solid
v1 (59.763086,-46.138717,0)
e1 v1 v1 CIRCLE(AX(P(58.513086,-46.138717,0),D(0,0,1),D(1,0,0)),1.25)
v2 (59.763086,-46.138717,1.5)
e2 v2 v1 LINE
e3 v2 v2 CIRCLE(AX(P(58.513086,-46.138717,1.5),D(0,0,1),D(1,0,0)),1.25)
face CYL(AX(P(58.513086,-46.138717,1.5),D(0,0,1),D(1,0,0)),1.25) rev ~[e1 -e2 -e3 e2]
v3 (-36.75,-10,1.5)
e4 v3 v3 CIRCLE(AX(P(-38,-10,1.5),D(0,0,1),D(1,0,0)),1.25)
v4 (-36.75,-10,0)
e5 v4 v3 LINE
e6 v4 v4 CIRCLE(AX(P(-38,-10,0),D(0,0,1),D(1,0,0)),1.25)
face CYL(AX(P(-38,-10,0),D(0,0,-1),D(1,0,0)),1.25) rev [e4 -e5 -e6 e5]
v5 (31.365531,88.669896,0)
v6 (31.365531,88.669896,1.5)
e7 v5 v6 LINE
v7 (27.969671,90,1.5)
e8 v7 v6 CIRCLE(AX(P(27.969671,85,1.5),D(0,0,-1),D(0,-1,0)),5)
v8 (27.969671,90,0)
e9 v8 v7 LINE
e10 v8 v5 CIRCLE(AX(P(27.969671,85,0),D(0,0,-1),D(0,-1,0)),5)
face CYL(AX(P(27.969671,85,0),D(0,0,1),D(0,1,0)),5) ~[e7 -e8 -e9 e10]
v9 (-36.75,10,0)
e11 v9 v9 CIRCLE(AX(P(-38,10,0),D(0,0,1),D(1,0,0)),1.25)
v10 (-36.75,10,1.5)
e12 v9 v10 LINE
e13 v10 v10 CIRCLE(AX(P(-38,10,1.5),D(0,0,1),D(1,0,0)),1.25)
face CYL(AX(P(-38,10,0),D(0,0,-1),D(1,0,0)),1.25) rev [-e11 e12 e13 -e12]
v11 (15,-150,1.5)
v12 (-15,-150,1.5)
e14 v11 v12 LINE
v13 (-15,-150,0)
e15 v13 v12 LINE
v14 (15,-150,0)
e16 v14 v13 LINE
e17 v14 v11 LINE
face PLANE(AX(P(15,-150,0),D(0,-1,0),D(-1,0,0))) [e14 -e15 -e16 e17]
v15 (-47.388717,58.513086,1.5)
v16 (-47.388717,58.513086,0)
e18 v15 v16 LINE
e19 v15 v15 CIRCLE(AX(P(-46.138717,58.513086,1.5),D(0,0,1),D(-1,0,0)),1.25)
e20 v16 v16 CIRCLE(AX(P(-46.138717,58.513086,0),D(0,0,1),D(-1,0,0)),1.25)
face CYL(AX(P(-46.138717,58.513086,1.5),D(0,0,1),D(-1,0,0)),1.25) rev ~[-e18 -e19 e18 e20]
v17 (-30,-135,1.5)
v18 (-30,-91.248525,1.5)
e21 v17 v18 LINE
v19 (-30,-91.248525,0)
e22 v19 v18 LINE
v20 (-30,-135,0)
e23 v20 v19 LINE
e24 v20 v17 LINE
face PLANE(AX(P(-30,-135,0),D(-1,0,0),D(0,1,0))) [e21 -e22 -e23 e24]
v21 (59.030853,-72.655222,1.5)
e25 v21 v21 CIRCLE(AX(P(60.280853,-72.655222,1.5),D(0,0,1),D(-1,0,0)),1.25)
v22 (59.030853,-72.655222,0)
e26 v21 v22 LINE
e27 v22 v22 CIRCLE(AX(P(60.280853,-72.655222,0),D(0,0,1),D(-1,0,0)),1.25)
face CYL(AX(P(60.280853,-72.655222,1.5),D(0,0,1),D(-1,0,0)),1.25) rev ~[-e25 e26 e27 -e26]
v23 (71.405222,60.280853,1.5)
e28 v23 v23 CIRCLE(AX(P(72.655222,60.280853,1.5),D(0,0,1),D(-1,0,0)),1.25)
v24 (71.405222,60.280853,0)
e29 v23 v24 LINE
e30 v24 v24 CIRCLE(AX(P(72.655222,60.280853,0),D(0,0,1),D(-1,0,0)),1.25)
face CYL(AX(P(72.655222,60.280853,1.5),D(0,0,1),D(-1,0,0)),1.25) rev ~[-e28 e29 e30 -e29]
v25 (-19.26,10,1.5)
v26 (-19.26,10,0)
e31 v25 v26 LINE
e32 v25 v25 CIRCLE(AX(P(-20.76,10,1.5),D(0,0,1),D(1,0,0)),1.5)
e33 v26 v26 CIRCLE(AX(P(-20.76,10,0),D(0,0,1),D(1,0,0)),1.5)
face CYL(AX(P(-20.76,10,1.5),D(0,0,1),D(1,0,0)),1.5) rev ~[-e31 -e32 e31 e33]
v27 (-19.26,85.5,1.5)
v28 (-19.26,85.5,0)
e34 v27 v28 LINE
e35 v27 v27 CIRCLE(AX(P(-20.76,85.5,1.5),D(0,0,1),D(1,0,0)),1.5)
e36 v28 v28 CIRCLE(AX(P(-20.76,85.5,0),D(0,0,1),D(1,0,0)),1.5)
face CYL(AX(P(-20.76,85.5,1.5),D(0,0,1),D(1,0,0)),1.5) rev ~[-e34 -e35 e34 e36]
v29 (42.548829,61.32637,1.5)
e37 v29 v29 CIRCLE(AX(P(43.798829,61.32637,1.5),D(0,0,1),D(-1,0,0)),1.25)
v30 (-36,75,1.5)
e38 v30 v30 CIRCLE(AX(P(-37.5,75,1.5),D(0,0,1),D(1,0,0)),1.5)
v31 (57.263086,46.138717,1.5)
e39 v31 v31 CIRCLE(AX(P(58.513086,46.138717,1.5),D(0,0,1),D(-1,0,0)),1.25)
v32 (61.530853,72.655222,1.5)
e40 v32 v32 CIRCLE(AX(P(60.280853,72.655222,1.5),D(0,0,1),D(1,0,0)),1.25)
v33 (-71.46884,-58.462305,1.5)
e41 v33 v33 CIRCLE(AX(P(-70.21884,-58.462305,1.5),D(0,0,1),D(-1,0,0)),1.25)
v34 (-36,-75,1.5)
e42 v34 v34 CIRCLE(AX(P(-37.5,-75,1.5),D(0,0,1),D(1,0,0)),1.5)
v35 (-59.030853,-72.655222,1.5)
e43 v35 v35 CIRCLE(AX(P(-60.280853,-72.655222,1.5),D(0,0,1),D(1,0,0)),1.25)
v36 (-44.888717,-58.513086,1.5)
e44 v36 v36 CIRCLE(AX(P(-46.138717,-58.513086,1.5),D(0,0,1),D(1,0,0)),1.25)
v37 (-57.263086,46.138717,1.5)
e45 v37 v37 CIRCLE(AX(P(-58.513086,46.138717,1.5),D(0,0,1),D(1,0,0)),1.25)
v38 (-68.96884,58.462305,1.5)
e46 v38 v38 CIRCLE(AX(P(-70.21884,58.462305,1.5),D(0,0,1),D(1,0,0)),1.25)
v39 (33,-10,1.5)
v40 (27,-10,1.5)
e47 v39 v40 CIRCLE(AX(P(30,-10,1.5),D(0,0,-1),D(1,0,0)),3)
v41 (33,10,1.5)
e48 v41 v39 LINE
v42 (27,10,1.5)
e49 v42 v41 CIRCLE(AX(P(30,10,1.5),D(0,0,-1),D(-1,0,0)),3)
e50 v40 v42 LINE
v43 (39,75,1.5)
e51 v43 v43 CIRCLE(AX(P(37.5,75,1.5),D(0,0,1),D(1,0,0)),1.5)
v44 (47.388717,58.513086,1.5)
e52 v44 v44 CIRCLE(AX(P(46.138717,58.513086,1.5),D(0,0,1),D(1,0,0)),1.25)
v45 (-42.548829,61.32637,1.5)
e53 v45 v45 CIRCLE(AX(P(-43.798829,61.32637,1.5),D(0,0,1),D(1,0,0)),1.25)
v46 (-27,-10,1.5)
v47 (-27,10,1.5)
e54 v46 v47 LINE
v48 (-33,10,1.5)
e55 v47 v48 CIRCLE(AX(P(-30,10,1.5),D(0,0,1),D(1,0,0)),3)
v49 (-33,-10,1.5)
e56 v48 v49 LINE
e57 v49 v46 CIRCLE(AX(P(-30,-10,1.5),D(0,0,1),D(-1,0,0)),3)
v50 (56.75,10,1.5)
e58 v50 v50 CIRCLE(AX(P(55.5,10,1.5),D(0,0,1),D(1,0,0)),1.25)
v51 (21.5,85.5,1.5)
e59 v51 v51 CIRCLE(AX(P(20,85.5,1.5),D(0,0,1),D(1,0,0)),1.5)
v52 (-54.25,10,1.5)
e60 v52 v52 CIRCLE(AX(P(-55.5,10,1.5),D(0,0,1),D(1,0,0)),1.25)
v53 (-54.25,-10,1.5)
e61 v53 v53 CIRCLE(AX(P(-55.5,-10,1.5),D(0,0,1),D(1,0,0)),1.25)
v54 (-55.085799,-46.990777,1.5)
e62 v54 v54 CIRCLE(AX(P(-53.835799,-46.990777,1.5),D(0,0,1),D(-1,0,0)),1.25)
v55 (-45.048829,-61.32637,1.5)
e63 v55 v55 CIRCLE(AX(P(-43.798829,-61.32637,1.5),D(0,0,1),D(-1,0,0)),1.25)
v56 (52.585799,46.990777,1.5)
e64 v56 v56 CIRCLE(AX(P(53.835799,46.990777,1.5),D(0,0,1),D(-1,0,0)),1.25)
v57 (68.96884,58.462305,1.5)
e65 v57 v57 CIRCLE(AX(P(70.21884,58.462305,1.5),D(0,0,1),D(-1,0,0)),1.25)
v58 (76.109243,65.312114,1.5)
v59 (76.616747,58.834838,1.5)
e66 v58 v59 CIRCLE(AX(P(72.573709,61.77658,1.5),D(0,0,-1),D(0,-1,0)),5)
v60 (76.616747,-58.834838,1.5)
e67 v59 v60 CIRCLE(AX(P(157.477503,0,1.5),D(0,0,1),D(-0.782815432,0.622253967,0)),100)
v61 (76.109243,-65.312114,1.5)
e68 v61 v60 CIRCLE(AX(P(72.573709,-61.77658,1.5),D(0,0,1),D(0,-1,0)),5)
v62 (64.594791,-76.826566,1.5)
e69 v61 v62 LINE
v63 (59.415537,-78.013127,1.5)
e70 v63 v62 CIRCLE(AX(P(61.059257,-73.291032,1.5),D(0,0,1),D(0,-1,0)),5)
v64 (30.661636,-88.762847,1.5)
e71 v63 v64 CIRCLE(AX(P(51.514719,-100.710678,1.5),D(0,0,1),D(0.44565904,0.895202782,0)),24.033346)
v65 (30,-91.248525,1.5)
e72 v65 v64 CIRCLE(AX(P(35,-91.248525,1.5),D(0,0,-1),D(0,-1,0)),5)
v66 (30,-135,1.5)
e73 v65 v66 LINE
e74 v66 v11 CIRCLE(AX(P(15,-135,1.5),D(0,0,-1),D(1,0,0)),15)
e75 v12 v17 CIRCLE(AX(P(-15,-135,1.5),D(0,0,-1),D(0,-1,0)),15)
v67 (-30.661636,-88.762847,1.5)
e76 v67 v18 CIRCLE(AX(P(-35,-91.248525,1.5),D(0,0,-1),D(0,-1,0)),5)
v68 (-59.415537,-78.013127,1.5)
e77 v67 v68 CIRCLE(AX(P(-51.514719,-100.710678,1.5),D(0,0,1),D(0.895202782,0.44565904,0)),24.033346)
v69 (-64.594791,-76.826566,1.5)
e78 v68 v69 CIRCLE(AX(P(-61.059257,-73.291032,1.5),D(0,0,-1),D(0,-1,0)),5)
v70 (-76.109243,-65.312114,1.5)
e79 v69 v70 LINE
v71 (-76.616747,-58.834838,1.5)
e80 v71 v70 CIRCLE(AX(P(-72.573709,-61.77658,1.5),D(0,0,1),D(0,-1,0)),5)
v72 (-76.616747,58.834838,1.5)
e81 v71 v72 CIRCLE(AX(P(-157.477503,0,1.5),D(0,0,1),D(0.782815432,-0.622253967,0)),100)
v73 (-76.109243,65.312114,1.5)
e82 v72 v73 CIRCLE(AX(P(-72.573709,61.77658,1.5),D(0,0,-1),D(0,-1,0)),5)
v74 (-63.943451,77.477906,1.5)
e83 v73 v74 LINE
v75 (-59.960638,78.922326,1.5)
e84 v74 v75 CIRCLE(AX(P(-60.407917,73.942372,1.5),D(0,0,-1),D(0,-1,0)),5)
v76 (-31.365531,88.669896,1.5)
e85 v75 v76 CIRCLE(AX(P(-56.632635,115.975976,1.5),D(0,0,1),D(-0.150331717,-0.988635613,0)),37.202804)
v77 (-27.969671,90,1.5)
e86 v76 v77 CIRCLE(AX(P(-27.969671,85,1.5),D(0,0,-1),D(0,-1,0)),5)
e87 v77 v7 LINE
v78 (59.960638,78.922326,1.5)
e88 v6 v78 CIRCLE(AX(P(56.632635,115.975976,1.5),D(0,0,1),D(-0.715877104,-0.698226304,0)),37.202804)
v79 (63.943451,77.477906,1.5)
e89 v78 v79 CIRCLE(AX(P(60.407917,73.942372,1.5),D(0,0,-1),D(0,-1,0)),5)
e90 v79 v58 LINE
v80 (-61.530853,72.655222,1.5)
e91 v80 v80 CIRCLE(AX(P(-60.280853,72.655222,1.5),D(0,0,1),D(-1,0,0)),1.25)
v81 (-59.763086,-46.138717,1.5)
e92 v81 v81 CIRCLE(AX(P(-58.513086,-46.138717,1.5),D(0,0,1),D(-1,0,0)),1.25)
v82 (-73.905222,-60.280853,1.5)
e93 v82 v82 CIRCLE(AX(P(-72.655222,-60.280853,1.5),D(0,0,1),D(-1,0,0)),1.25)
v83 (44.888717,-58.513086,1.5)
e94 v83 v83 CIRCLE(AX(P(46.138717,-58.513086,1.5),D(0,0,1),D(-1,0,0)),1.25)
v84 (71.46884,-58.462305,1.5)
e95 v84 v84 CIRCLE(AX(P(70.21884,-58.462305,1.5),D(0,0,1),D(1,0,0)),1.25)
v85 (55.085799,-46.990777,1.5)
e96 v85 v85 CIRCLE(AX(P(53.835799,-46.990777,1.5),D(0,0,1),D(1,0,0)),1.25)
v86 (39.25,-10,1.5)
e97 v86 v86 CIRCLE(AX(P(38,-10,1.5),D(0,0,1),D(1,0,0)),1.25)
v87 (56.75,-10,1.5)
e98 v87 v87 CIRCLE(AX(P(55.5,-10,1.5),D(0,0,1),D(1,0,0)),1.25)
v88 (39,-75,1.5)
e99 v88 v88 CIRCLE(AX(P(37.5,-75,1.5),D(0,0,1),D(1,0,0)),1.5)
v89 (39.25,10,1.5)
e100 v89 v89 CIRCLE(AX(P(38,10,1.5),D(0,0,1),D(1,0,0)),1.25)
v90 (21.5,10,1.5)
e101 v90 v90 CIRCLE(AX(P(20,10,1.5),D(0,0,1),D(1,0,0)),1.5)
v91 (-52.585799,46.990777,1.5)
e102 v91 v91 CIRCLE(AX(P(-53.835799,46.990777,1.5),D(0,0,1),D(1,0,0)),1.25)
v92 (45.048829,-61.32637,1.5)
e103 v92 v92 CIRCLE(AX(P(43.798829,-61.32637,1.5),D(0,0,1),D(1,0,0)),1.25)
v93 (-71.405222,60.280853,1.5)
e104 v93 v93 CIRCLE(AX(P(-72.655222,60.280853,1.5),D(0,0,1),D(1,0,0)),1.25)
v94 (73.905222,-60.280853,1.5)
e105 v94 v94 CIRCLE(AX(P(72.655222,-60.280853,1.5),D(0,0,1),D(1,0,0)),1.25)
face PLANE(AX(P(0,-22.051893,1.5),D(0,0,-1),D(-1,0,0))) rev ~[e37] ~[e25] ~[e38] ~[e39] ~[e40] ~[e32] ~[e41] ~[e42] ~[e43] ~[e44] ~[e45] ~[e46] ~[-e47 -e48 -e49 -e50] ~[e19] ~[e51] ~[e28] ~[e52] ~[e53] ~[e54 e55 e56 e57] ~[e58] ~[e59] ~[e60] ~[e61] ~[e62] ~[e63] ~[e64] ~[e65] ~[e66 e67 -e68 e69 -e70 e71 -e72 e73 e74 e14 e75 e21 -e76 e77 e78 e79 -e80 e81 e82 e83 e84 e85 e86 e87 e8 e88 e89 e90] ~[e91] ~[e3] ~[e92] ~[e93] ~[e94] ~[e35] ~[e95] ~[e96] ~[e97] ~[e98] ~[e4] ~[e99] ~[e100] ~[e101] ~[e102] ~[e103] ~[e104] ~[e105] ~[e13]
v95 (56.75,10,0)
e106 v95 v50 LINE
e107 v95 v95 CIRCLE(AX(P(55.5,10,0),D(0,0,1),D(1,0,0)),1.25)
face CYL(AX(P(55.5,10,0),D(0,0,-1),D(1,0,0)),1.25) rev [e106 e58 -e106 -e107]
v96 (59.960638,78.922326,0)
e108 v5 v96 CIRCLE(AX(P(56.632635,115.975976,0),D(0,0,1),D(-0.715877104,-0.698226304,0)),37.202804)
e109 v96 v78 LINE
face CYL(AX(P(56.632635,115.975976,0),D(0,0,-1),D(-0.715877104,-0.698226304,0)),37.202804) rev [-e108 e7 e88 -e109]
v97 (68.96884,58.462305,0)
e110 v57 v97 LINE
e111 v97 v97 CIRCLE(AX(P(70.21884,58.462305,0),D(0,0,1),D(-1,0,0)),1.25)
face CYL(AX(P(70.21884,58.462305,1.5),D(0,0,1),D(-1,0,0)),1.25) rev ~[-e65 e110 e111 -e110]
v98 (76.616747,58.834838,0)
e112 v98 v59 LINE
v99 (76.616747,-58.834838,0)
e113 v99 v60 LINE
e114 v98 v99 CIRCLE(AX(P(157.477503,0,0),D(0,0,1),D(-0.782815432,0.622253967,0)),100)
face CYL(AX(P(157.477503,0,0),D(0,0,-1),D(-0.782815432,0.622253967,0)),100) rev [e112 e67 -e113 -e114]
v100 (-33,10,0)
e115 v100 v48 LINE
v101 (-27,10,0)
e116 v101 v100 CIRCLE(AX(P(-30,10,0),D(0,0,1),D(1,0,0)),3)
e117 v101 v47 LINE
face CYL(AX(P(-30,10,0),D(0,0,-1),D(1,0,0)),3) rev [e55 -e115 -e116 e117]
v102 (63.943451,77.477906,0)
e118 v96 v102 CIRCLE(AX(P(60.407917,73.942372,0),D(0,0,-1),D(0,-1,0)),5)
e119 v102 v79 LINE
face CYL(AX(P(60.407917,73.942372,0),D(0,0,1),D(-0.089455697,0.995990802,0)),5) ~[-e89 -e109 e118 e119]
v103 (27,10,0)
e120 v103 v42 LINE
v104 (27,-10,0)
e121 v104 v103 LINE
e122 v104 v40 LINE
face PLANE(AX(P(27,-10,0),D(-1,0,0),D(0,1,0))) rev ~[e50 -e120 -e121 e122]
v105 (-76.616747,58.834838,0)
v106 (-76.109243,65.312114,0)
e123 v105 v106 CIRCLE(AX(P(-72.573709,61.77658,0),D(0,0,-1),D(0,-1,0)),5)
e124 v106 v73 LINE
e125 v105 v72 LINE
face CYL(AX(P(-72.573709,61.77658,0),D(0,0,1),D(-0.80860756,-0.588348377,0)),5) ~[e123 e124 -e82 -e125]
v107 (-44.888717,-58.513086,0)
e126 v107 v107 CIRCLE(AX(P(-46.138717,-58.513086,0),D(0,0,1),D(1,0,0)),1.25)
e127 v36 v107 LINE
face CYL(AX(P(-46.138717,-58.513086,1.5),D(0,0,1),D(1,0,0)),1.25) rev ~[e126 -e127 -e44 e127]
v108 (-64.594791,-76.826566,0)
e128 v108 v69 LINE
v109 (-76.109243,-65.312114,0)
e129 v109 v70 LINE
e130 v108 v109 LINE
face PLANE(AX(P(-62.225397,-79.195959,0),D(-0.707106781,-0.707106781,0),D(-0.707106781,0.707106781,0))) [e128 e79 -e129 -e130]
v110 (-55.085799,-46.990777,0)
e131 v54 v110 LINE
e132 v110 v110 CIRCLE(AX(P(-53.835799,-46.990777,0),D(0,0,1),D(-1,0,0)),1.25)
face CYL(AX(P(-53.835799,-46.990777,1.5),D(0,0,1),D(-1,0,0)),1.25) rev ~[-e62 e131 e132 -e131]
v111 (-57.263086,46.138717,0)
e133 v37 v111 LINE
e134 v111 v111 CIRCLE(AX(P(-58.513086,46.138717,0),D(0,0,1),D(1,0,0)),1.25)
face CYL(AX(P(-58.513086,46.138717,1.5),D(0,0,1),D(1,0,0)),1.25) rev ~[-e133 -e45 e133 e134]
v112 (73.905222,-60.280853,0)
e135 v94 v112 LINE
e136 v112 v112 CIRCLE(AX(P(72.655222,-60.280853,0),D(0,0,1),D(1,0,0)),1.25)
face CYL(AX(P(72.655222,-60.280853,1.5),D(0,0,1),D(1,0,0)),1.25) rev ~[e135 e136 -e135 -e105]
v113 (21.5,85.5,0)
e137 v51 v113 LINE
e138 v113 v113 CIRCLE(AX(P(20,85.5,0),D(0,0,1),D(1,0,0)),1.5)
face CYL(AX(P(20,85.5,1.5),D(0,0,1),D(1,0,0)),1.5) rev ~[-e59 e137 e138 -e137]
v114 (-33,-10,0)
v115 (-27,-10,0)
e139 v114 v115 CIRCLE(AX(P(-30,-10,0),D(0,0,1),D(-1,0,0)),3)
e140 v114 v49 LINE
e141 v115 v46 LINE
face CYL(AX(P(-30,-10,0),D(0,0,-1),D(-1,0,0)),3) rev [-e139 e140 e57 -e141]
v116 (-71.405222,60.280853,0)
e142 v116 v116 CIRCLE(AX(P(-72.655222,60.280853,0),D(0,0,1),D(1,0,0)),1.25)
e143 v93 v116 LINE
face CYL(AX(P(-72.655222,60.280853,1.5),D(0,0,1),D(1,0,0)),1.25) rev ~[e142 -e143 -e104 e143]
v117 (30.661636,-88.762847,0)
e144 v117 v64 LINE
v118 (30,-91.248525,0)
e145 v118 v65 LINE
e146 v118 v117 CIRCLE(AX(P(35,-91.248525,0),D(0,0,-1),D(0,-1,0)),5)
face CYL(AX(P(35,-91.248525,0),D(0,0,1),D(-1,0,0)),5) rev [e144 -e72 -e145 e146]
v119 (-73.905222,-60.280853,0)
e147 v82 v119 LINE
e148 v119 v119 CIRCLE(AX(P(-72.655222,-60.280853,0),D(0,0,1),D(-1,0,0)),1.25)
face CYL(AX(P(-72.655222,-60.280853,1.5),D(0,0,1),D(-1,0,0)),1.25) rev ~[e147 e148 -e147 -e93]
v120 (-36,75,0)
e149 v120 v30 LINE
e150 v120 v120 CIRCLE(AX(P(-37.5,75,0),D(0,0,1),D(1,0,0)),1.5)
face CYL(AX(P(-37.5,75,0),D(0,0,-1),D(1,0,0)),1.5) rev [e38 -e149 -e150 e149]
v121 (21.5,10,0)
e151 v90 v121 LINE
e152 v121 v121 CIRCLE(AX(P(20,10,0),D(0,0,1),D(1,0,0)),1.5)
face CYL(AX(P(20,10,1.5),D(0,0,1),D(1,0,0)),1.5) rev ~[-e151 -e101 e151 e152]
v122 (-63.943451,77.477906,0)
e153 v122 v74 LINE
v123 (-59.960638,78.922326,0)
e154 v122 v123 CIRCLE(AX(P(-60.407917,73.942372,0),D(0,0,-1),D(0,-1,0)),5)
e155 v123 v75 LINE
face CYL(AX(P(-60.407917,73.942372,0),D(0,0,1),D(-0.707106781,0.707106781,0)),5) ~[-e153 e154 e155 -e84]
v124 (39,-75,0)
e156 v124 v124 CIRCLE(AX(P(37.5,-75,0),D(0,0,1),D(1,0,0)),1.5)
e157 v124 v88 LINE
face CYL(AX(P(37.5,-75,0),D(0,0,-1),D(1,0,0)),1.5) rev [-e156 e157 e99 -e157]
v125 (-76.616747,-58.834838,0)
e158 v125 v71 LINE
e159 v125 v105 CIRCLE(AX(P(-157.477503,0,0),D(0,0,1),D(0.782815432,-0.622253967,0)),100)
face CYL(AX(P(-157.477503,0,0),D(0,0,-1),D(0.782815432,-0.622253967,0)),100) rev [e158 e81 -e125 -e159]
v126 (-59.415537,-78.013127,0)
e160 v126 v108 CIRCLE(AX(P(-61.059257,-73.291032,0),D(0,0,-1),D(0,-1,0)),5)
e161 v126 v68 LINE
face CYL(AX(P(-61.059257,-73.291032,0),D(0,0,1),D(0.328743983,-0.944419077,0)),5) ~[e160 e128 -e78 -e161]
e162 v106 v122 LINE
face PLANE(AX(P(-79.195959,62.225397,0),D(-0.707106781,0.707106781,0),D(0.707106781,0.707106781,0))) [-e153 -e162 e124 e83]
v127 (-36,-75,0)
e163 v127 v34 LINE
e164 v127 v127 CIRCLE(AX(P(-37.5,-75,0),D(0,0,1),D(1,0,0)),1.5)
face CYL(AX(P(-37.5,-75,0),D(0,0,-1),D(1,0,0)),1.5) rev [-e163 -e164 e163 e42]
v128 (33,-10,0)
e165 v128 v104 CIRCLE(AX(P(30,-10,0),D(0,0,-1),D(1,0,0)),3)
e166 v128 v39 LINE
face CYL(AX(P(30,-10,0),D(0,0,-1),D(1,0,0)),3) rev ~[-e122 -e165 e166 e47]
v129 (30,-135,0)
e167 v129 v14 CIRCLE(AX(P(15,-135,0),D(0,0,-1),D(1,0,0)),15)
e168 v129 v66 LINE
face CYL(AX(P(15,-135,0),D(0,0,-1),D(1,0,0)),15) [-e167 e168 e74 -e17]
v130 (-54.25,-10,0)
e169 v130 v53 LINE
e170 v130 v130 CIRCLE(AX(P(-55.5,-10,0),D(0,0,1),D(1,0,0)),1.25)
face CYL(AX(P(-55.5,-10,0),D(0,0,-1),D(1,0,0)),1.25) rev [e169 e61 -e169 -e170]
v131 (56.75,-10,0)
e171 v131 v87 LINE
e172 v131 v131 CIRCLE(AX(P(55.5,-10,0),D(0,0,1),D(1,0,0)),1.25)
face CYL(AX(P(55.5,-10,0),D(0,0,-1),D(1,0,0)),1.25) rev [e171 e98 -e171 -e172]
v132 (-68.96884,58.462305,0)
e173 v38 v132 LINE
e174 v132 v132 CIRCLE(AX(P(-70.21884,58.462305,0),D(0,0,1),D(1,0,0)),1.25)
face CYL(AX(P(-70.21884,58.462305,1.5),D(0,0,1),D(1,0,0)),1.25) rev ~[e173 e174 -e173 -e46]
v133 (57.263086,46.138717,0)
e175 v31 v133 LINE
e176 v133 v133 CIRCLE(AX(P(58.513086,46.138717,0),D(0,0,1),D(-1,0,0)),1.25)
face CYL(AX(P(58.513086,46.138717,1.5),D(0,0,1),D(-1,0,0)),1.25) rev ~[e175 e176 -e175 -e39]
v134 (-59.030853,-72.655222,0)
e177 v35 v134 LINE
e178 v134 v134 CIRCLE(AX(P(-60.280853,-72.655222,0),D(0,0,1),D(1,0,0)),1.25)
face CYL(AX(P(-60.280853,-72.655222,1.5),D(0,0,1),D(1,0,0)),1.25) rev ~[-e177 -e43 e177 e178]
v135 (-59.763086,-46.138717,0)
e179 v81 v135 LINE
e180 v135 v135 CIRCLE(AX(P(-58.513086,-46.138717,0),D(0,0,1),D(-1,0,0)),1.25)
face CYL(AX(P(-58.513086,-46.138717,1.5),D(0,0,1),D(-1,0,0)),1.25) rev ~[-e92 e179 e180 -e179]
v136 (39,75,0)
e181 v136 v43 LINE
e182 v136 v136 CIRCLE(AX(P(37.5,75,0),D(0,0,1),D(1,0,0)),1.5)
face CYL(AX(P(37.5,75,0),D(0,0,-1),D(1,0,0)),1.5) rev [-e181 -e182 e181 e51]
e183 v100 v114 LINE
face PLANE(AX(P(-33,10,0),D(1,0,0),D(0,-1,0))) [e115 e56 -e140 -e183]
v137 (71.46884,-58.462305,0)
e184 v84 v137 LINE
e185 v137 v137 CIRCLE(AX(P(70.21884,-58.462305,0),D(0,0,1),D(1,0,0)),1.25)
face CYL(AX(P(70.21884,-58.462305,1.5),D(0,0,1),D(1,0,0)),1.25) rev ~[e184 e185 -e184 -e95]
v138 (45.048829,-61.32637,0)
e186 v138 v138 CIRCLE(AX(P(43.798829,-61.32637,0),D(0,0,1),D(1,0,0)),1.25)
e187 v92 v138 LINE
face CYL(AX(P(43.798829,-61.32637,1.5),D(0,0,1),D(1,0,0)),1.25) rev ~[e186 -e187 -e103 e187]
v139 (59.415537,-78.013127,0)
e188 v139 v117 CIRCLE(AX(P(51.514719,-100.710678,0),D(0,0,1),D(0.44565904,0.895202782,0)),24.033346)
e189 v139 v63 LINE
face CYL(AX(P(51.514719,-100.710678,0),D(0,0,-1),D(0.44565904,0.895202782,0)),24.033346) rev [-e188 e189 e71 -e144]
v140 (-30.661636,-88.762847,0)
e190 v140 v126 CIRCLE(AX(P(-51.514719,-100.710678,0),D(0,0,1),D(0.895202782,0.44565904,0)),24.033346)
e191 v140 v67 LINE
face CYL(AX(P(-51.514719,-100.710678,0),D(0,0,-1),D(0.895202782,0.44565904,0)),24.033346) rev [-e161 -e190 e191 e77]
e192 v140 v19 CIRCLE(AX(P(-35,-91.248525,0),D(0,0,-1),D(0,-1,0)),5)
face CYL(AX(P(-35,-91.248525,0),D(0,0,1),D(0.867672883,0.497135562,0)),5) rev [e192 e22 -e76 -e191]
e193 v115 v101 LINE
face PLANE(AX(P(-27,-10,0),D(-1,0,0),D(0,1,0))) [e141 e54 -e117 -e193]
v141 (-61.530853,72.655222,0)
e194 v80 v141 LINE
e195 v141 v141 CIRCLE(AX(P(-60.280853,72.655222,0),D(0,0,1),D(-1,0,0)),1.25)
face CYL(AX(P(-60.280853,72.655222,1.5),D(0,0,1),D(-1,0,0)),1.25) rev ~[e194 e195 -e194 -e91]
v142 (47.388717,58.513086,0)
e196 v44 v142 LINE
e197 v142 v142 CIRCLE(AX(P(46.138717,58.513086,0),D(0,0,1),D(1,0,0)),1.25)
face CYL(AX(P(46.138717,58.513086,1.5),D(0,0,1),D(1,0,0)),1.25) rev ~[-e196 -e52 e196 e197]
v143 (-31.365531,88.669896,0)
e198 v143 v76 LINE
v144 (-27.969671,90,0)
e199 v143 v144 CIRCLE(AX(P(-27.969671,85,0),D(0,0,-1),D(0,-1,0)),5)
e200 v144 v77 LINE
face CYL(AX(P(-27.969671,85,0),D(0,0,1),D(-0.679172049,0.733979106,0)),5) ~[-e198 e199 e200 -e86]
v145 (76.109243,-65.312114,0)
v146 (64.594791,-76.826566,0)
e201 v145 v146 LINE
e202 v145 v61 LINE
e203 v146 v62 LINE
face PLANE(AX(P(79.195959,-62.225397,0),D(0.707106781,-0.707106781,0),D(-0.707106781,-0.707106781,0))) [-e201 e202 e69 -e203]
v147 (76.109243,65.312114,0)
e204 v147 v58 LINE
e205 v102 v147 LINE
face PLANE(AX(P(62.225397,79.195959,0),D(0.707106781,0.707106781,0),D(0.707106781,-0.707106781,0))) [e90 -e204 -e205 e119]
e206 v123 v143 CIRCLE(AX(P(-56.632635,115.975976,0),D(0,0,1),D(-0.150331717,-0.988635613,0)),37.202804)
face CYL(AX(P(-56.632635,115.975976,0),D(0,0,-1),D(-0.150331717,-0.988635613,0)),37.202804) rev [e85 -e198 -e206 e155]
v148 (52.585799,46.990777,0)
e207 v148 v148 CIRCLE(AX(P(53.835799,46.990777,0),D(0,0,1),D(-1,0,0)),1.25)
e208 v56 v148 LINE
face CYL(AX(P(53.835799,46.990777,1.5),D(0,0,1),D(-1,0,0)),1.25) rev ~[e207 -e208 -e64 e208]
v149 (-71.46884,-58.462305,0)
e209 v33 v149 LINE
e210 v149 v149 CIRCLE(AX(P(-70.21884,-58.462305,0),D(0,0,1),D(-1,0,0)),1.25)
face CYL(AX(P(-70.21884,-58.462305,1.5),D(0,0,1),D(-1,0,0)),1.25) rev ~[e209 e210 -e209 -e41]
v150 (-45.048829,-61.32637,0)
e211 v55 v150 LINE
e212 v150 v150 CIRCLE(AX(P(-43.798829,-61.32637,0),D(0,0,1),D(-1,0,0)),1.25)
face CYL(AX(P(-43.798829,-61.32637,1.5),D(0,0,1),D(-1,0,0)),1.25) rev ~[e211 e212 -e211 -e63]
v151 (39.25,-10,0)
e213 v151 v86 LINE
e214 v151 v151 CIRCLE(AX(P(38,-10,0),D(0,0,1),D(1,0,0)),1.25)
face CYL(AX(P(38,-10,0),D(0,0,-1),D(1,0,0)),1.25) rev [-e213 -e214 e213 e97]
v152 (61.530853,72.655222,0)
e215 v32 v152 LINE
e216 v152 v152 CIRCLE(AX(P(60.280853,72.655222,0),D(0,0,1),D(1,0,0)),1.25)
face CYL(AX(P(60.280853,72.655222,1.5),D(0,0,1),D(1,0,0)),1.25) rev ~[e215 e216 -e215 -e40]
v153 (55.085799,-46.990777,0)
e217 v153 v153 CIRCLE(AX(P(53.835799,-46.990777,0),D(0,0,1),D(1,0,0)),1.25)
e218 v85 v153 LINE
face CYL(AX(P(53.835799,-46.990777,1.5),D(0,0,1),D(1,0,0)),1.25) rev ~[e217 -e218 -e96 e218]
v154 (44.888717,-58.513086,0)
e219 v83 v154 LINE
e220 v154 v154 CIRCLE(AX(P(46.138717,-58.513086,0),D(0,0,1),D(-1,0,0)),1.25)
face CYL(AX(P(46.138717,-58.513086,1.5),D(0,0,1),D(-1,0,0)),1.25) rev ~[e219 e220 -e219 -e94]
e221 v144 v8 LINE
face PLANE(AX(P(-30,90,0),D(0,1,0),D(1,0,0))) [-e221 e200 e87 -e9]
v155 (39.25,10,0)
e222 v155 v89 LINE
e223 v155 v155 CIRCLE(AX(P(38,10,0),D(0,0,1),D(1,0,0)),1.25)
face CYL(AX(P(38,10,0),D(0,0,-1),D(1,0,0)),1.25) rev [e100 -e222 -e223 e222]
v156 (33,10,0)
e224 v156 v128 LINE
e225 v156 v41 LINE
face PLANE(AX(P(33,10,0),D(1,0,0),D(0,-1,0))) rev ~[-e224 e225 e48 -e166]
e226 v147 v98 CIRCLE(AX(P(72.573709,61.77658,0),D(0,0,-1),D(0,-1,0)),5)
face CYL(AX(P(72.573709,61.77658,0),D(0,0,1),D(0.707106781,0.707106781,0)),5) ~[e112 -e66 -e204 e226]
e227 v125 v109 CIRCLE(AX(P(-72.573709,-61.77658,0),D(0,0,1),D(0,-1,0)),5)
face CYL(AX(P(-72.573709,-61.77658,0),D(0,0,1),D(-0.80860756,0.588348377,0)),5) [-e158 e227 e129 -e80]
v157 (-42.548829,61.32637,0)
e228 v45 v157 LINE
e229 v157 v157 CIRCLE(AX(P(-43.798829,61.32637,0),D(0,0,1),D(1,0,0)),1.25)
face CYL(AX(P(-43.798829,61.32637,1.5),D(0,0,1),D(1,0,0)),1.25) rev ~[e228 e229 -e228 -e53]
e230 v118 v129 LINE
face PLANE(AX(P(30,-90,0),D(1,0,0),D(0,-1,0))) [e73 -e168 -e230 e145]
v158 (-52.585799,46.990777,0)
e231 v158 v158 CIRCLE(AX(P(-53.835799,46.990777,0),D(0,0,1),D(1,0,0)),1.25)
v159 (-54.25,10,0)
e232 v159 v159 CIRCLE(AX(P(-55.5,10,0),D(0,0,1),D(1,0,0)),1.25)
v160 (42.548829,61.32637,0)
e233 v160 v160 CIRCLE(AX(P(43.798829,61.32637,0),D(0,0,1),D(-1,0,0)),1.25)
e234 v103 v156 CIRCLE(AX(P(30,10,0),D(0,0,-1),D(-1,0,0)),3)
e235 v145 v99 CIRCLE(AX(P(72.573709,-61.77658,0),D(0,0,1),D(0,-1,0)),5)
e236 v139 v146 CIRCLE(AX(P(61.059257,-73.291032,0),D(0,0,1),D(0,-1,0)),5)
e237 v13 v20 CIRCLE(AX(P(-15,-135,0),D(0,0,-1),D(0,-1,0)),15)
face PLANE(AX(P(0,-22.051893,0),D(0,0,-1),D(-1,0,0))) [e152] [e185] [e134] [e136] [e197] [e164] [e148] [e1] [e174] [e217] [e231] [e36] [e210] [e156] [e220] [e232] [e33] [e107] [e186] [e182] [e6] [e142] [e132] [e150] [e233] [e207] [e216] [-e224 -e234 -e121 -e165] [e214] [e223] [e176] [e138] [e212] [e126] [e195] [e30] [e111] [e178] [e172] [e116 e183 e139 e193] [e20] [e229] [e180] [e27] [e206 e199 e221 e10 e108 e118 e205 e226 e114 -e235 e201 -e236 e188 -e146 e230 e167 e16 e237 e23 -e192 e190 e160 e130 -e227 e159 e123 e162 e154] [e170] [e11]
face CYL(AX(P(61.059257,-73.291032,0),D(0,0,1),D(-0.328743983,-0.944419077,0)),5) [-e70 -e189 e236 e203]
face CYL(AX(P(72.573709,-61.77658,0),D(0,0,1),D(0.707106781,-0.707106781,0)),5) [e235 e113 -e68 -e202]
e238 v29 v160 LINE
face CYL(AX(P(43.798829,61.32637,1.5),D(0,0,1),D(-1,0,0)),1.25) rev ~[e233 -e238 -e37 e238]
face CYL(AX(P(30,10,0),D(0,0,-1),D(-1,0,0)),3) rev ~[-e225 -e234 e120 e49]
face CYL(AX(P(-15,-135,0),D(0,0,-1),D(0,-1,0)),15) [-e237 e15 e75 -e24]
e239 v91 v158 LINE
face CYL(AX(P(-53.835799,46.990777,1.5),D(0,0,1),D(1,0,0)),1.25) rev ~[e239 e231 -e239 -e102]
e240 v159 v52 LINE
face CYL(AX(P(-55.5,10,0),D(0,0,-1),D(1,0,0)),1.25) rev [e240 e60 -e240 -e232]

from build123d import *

# Parameters (mm, degrees)
SKETCH2_R           = 1.5
SKETCH2_R_2         = 1.25
BOSS_EXTRUDE1_DEPTH = 1.5
SKETCH3_R           = 1.25
F_45_DEGREES_DEPTH  = 170.629743854
SKETCH4_R           = 1.5
ODROID_HOLES_DEPTH  = 170.629743854
FILLET1_R           = 5
FILLET2_R           = 5
FILLET3_R           = 5
FILLET4_R           = 5
FILLET5_R           = 5
FILLET6_R           = 5
FILLET7_R           = 5
FILLET8_R           = 5
FILLET9_R           = 5
FILLET10_R          = 5
FILLET11_R          = 5
FILLET12_R          = 5
SKETCH5_R           = 1.25
F_35_DEGREES_DEPTH  = 169.878448293


with BuildPart() as part:
    # Sketch2 → Boss-Extrude1 (new body)
    with BuildSketch(Plane.XY):
        with BuildLine():
            Line((-79.195959493, 62.225396744), (-62.225396744, 79.195959493))
            ThreePointArc((-62.225396744, 79.195959493), (-44.806778225, 80.702789346), (-30, 90))
            Line((-30, 90), (30, 90))
            ThreePointArc((30, 90), (44.806778225, 80.702789346), (62.225396744, 79.195959493))
            Line((62.225396744, 79.195959493), (79.195959493, 62.225396744))
            ThreePointArc((79.195959493, 62.225396744), (57.477502656, 0), (79.195959493, -62.225396744))
            Line((79.195959493, -62.225396744), (62.225396744, -79.195959493))
            ThreePointArc((62.225396744, -79.195959493), (43.875108319, -77.923881554), (30, -90))
            Line((30, -90), (30, -135))
            ThreePointArc((30, -135), (25.606601718, -145.606601718), (15, -150))
            Line((15, -150), (-15, -150))
            ThreePointArc((-15, -150), (-25.606601718, -145.606601718), (-30, -135))
            Line((-30, -135), (-30, -90))
            ThreePointArc((-30, -90), (-43.875108319, -77.923881554), (-62.225396744, -79.195959493))
            Line((-62.225396744, -79.195959493), (-79.195959493, -62.225396744))
            ThreePointArc((-79.195959493, -62.225396744), (-57.477502656, 0), (-79.195959493, 62.225396744))
        make_face()
        with Locations((-37.5, 75)):
            Circle(SKETCH2_R, mode=Mode.SUBTRACT)
        with Locations((37.5, 75)):
            Circle(SKETCH2_R, mode=Mode.SUBTRACT)
        with Locations((37.5, -75)):
            Circle(SKETCH2_R, mode=Mode.SUBTRACT)
        with Locations((-37.5, -75)):
            Circle(SKETCH2_R, mode=Mode.SUBTRACT)
        with Locations((-55.5, 10)):
            Circle(SKETCH2_R_2, mode=Mode.SUBTRACT)
        with Locations((-38, 10)):
            Circle(SKETCH2_R_2, mode=Mode.SUBTRACT)
        with Locations((-55.5, -10)):
            Circle(SKETCH2_R_2, mode=Mode.SUBTRACT)
        with Locations((-38, -10)):
            Circle(SKETCH2_R_2, mode=Mode.SUBTRACT)
        with Locations((55.5, -10)):
            Circle(SKETCH2_R_2, mode=Mode.SUBTRACT)
        with Locations((38, -10)):
            Circle(SKETCH2_R_2, mode=Mode.SUBTRACT)
        with Locations((38, 10)):
            Circle(SKETCH2_R_2, mode=Mode.SUBTRACT)
        with Locations((55.5, 10)):
            Circle(SKETCH2_R_2, mode=Mode.SUBTRACT)
        with BuildLine():
            Line((27, -10), (27, 10))
            ThreePointArc((27, 10), (30, 13), (33, 10))
            Line((33, 10), (33, -10))
            ThreePointArc((33, -10), (30, -13), (27, -10))
        make_face(mode=Mode.SUBTRACT)
        with BuildLine():
            Line((-27, -10), (-27, 10))
            ThreePointArc((-27, 10), (-30, 13), (-33, 10))
            Line((-33, 10), (-33, -10))
            ThreePointArc((-33, -10), (-30, -13), (-27, -10))
        make_face(mode=Mode.SUBTRACT)
    extrude(amount=BOSS_EXTRUDE1_DEPTH)

    # Sketch3 → 45 Degrees (cut, through all)
    with BuildSketch(Plane.XY.offset(1.5)):
        with Locations((-72.655221767, 60.280853096)):
            Circle(SKETCH3_R)
        with Locations((-58.513086143, 46.138717472)):
            Circle(SKETCH3_R)
        with Locations(Location((-60.280853096, 72.655221767, 0), (0, 0, 180))):
            Circle(SKETCH3_R)
        with Locations(Location((-46.138717472, 58.513086143, 0), (0, 0, 180))):
            Circle(SKETCH3_R)
        with Locations(Location((58.513086143, 46.138717472, 0), (0, 0, 180))):
            Circle(SKETCH3_R)
        with Locations(Location((72.655221767, 60.280853096, 0), (0, 0, 180))):
            Circle(SKETCH3_R)
        with Locations((60.280853096, 72.655221767)):
            Circle(SKETCH3_R)
        with Locations((46.138717472, 58.513086143)):
            Circle(SKETCH3_R)
        with Locations(Location((-58.513086143, -46.138717472, 0), (0, 0, 180))):
            Circle(SKETCH3_R)
        with Locations((-46.138717472, -58.513086143)):
            Circle(SKETCH3_R)
        with Locations((-60.280853096, -72.655221767)):
            Circle(SKETCH3_R)
        with Locations(Location((-72.655221767, -60.280853096, 0), (0, 0, 180))):
            Circle(SKETCH3_R)
        with Locations((58.513086143, -46.138717472)):
            Circle(SKETCH3_R)
        with Locations((72.655221767, -60.280853096)):
            Circle(SKETCH3_R)
        with Locations(Location((60.280853096, -72.655221767, 0), (0, 0, 180))):
            Circle(SKETCH3_R)
        with Locations(Location((46.138717472, -58.513086143, 0), (0, 0, 180))):
            Circle(SKETCH3_R)
    extrude(amount=-F_45_DEGREES_DEPTH, mode=Mode.SUBTRACT)

    # Sketch4 → ODroid holes (cut, through all)
    with BuildSketch(Plane.XY.offset(1.5)):
        with Locations((-20.76, 10)):
            Circle(SKETCH4_R)
        with Locations((20, 10)):
            Circle(SKETCH4_R)
        with Locations((-20.76, 85.5)):
            Circle(SKETCH4_R)
        with Locations((20, 85.5)):
            Circle(SKETCH4_R)
    extrude(amount=-ODROID_HOLES_DEPTH, mode=Mode.SUBTRACT)

    # Fillet1
    fillet1_edges = [part.edges().sort_by_distance(p)[0] for p in [
        (-30, -90, 0.75),
    ]]
    fillet(fillet1_edges, radius=FILLET1_R)

    # Fillet2
    fillet2_edges = [part.edges().sort_by_distance(p)[0] for p in [
        (-62.225396744, -79.195959493, 0.75),
    ]]
    fillet(fillet2_edges, radius=FILLET2_R)

    # Fillet3
    fillet3_edges = [part.edges().sort_by_distance(p)[0] for p in [
        (30, -90, 0.75),
    ]]
    fillet(fillet3_edges, radius=FILLET3_R)

    # Fillet4
    fillet4_edges = [part.edges().sort_by_distance(p)[0] for p in [
        (62.225396744, -79.195959493, 0.75),
    ]]
    fillet(fillet4_edges, radius=FILLET4_R)

    # Fillet5
    fillet5_edges = [part.edges().sort_by_distance(p)[0] for p in [
        (79.195959493, -62.225396744, 0.75),
    ]]
    fillet(fillet5_edges, radius=FILLET5_R)

    # Fillet6
    fillet6_edges = [part.edges().sort_by_distance(p)[0] for p in [
        (-79.195959493, -62.225396744, 0.75),
    ]]
    fillet(fillet6_edges, radius=FILLET6_R)

    # Fillet7
    fillet7_edges = [part.edges().sort_by_distance(p)[0] for p in [
        (-79.195959493, 62.225396744, 0.75),
    ]]
    fillet(fillet7_edges, radius=FILLET7_R)

    # Fillet8
    fillet8_edges = [part.edges().sort_by_distance(p)[0] for p in [
        (-62.225396744, 79.195959493, 0.75),
    ]]
    fillet(fillet8_edges, radius=FILLET8_R)

    # Fillet9
    fillet9_edges = [part.edges().sort_by_distance(p)[0] for p in [
        (-30, 90, 0.75),
    ]]
    fillet(fillet9_edges, radius=FILLET9_R)

    # Fillet10
    fillet10_edges = [part.edges().sort_by_distance(p)[0] for p in [
        (30, 90, 0.75),
    ]]
    fillet(fillet10_edges, radius=FILLET10_R)

    # Fillet11
    fillet11_edges = [part.edges().sort_by_distance(p)[0] for p in [
        (62.225396744, 79.195959493, 0.75),
    ]]
    fillet(fillet11_edges, radius=FILLET11_R)

    # Fillet12
    fillet12_edges = [part.edges().sort_by_distance(p)[0] for p in [
        (79.195959493, 62.225396744, 0.75),
    ]]
    fillet(fillet12_edges, radius=FILLET12_R)

    # Sketch5 → 35 Degrees (cut, through all)
    with BuildSketch(Plane.XY.offset(1.5)):
        with Locations(Location((-60.280853096, 72.655221767, 0), (0, 0, 180))):
            Circle(SKETCH5_R)
        with Locations((-70.218840229, 58.462305252)):
            Circle(SKETCH5_R)
        with Locations((-53.835799344, 46.990776525)):
            Circle(SKETCH5_R)
        with Locations((-43.79882923, 61.326369694)):
            Circle(SKETCH5_R)
        with Locations((60.280853096, 72.655221767)):
            Circle(SKETCH5_R)
        with Locations(Location((43.79882923, 61.326369694, 0), (0, 0, 180))):
            Circle(SKETCH5_R)
        with Locations(Location((53.835799344, 46.990776525, 0), (0, 0, 180))):
            Circle(SKETCH5_R)
        with Locations(Location((70.218840229, 58.462305252, 0), (0, 0, 180))):
            Circle(SKETCH5_R)
        with Locations(Location((-70.218840229, -58.462305252, 0), (0, 0, 180))):
            Circle(SKETCH5_R)
        with Locations((-60.280853096, -72.655221767)):
            Circle(SKETCH5_R)
        with Locations(Location((-53.835799344, -46.990776525, 0), (0, 0, 180))):
            Circle(SKETCH5_R)
        with Locations(Location((-43.79882923, -61.326369694, 0), (0, 0, 180))):
            Circle(SKETCH5_R)
        with Locations((70.218840229, -58.462305252)):
            Circle(SKETCH5_R)
        with Locations(Location((60.280853096, -72.655221767, 0), (0, 0, 180))):
            Circle(SKETCH5_R)
        with Locations((43.79882923, -61.326369694)):
            Circle(SKETCH5_R)
        with Locations((53.835799344, -46.990776525)):
            Circle(SKETCH5_R)
    extrude(amount=-F_35_DEGREES_DEPTH, mode=Mode.SUBTRACT)


solid = part.part
